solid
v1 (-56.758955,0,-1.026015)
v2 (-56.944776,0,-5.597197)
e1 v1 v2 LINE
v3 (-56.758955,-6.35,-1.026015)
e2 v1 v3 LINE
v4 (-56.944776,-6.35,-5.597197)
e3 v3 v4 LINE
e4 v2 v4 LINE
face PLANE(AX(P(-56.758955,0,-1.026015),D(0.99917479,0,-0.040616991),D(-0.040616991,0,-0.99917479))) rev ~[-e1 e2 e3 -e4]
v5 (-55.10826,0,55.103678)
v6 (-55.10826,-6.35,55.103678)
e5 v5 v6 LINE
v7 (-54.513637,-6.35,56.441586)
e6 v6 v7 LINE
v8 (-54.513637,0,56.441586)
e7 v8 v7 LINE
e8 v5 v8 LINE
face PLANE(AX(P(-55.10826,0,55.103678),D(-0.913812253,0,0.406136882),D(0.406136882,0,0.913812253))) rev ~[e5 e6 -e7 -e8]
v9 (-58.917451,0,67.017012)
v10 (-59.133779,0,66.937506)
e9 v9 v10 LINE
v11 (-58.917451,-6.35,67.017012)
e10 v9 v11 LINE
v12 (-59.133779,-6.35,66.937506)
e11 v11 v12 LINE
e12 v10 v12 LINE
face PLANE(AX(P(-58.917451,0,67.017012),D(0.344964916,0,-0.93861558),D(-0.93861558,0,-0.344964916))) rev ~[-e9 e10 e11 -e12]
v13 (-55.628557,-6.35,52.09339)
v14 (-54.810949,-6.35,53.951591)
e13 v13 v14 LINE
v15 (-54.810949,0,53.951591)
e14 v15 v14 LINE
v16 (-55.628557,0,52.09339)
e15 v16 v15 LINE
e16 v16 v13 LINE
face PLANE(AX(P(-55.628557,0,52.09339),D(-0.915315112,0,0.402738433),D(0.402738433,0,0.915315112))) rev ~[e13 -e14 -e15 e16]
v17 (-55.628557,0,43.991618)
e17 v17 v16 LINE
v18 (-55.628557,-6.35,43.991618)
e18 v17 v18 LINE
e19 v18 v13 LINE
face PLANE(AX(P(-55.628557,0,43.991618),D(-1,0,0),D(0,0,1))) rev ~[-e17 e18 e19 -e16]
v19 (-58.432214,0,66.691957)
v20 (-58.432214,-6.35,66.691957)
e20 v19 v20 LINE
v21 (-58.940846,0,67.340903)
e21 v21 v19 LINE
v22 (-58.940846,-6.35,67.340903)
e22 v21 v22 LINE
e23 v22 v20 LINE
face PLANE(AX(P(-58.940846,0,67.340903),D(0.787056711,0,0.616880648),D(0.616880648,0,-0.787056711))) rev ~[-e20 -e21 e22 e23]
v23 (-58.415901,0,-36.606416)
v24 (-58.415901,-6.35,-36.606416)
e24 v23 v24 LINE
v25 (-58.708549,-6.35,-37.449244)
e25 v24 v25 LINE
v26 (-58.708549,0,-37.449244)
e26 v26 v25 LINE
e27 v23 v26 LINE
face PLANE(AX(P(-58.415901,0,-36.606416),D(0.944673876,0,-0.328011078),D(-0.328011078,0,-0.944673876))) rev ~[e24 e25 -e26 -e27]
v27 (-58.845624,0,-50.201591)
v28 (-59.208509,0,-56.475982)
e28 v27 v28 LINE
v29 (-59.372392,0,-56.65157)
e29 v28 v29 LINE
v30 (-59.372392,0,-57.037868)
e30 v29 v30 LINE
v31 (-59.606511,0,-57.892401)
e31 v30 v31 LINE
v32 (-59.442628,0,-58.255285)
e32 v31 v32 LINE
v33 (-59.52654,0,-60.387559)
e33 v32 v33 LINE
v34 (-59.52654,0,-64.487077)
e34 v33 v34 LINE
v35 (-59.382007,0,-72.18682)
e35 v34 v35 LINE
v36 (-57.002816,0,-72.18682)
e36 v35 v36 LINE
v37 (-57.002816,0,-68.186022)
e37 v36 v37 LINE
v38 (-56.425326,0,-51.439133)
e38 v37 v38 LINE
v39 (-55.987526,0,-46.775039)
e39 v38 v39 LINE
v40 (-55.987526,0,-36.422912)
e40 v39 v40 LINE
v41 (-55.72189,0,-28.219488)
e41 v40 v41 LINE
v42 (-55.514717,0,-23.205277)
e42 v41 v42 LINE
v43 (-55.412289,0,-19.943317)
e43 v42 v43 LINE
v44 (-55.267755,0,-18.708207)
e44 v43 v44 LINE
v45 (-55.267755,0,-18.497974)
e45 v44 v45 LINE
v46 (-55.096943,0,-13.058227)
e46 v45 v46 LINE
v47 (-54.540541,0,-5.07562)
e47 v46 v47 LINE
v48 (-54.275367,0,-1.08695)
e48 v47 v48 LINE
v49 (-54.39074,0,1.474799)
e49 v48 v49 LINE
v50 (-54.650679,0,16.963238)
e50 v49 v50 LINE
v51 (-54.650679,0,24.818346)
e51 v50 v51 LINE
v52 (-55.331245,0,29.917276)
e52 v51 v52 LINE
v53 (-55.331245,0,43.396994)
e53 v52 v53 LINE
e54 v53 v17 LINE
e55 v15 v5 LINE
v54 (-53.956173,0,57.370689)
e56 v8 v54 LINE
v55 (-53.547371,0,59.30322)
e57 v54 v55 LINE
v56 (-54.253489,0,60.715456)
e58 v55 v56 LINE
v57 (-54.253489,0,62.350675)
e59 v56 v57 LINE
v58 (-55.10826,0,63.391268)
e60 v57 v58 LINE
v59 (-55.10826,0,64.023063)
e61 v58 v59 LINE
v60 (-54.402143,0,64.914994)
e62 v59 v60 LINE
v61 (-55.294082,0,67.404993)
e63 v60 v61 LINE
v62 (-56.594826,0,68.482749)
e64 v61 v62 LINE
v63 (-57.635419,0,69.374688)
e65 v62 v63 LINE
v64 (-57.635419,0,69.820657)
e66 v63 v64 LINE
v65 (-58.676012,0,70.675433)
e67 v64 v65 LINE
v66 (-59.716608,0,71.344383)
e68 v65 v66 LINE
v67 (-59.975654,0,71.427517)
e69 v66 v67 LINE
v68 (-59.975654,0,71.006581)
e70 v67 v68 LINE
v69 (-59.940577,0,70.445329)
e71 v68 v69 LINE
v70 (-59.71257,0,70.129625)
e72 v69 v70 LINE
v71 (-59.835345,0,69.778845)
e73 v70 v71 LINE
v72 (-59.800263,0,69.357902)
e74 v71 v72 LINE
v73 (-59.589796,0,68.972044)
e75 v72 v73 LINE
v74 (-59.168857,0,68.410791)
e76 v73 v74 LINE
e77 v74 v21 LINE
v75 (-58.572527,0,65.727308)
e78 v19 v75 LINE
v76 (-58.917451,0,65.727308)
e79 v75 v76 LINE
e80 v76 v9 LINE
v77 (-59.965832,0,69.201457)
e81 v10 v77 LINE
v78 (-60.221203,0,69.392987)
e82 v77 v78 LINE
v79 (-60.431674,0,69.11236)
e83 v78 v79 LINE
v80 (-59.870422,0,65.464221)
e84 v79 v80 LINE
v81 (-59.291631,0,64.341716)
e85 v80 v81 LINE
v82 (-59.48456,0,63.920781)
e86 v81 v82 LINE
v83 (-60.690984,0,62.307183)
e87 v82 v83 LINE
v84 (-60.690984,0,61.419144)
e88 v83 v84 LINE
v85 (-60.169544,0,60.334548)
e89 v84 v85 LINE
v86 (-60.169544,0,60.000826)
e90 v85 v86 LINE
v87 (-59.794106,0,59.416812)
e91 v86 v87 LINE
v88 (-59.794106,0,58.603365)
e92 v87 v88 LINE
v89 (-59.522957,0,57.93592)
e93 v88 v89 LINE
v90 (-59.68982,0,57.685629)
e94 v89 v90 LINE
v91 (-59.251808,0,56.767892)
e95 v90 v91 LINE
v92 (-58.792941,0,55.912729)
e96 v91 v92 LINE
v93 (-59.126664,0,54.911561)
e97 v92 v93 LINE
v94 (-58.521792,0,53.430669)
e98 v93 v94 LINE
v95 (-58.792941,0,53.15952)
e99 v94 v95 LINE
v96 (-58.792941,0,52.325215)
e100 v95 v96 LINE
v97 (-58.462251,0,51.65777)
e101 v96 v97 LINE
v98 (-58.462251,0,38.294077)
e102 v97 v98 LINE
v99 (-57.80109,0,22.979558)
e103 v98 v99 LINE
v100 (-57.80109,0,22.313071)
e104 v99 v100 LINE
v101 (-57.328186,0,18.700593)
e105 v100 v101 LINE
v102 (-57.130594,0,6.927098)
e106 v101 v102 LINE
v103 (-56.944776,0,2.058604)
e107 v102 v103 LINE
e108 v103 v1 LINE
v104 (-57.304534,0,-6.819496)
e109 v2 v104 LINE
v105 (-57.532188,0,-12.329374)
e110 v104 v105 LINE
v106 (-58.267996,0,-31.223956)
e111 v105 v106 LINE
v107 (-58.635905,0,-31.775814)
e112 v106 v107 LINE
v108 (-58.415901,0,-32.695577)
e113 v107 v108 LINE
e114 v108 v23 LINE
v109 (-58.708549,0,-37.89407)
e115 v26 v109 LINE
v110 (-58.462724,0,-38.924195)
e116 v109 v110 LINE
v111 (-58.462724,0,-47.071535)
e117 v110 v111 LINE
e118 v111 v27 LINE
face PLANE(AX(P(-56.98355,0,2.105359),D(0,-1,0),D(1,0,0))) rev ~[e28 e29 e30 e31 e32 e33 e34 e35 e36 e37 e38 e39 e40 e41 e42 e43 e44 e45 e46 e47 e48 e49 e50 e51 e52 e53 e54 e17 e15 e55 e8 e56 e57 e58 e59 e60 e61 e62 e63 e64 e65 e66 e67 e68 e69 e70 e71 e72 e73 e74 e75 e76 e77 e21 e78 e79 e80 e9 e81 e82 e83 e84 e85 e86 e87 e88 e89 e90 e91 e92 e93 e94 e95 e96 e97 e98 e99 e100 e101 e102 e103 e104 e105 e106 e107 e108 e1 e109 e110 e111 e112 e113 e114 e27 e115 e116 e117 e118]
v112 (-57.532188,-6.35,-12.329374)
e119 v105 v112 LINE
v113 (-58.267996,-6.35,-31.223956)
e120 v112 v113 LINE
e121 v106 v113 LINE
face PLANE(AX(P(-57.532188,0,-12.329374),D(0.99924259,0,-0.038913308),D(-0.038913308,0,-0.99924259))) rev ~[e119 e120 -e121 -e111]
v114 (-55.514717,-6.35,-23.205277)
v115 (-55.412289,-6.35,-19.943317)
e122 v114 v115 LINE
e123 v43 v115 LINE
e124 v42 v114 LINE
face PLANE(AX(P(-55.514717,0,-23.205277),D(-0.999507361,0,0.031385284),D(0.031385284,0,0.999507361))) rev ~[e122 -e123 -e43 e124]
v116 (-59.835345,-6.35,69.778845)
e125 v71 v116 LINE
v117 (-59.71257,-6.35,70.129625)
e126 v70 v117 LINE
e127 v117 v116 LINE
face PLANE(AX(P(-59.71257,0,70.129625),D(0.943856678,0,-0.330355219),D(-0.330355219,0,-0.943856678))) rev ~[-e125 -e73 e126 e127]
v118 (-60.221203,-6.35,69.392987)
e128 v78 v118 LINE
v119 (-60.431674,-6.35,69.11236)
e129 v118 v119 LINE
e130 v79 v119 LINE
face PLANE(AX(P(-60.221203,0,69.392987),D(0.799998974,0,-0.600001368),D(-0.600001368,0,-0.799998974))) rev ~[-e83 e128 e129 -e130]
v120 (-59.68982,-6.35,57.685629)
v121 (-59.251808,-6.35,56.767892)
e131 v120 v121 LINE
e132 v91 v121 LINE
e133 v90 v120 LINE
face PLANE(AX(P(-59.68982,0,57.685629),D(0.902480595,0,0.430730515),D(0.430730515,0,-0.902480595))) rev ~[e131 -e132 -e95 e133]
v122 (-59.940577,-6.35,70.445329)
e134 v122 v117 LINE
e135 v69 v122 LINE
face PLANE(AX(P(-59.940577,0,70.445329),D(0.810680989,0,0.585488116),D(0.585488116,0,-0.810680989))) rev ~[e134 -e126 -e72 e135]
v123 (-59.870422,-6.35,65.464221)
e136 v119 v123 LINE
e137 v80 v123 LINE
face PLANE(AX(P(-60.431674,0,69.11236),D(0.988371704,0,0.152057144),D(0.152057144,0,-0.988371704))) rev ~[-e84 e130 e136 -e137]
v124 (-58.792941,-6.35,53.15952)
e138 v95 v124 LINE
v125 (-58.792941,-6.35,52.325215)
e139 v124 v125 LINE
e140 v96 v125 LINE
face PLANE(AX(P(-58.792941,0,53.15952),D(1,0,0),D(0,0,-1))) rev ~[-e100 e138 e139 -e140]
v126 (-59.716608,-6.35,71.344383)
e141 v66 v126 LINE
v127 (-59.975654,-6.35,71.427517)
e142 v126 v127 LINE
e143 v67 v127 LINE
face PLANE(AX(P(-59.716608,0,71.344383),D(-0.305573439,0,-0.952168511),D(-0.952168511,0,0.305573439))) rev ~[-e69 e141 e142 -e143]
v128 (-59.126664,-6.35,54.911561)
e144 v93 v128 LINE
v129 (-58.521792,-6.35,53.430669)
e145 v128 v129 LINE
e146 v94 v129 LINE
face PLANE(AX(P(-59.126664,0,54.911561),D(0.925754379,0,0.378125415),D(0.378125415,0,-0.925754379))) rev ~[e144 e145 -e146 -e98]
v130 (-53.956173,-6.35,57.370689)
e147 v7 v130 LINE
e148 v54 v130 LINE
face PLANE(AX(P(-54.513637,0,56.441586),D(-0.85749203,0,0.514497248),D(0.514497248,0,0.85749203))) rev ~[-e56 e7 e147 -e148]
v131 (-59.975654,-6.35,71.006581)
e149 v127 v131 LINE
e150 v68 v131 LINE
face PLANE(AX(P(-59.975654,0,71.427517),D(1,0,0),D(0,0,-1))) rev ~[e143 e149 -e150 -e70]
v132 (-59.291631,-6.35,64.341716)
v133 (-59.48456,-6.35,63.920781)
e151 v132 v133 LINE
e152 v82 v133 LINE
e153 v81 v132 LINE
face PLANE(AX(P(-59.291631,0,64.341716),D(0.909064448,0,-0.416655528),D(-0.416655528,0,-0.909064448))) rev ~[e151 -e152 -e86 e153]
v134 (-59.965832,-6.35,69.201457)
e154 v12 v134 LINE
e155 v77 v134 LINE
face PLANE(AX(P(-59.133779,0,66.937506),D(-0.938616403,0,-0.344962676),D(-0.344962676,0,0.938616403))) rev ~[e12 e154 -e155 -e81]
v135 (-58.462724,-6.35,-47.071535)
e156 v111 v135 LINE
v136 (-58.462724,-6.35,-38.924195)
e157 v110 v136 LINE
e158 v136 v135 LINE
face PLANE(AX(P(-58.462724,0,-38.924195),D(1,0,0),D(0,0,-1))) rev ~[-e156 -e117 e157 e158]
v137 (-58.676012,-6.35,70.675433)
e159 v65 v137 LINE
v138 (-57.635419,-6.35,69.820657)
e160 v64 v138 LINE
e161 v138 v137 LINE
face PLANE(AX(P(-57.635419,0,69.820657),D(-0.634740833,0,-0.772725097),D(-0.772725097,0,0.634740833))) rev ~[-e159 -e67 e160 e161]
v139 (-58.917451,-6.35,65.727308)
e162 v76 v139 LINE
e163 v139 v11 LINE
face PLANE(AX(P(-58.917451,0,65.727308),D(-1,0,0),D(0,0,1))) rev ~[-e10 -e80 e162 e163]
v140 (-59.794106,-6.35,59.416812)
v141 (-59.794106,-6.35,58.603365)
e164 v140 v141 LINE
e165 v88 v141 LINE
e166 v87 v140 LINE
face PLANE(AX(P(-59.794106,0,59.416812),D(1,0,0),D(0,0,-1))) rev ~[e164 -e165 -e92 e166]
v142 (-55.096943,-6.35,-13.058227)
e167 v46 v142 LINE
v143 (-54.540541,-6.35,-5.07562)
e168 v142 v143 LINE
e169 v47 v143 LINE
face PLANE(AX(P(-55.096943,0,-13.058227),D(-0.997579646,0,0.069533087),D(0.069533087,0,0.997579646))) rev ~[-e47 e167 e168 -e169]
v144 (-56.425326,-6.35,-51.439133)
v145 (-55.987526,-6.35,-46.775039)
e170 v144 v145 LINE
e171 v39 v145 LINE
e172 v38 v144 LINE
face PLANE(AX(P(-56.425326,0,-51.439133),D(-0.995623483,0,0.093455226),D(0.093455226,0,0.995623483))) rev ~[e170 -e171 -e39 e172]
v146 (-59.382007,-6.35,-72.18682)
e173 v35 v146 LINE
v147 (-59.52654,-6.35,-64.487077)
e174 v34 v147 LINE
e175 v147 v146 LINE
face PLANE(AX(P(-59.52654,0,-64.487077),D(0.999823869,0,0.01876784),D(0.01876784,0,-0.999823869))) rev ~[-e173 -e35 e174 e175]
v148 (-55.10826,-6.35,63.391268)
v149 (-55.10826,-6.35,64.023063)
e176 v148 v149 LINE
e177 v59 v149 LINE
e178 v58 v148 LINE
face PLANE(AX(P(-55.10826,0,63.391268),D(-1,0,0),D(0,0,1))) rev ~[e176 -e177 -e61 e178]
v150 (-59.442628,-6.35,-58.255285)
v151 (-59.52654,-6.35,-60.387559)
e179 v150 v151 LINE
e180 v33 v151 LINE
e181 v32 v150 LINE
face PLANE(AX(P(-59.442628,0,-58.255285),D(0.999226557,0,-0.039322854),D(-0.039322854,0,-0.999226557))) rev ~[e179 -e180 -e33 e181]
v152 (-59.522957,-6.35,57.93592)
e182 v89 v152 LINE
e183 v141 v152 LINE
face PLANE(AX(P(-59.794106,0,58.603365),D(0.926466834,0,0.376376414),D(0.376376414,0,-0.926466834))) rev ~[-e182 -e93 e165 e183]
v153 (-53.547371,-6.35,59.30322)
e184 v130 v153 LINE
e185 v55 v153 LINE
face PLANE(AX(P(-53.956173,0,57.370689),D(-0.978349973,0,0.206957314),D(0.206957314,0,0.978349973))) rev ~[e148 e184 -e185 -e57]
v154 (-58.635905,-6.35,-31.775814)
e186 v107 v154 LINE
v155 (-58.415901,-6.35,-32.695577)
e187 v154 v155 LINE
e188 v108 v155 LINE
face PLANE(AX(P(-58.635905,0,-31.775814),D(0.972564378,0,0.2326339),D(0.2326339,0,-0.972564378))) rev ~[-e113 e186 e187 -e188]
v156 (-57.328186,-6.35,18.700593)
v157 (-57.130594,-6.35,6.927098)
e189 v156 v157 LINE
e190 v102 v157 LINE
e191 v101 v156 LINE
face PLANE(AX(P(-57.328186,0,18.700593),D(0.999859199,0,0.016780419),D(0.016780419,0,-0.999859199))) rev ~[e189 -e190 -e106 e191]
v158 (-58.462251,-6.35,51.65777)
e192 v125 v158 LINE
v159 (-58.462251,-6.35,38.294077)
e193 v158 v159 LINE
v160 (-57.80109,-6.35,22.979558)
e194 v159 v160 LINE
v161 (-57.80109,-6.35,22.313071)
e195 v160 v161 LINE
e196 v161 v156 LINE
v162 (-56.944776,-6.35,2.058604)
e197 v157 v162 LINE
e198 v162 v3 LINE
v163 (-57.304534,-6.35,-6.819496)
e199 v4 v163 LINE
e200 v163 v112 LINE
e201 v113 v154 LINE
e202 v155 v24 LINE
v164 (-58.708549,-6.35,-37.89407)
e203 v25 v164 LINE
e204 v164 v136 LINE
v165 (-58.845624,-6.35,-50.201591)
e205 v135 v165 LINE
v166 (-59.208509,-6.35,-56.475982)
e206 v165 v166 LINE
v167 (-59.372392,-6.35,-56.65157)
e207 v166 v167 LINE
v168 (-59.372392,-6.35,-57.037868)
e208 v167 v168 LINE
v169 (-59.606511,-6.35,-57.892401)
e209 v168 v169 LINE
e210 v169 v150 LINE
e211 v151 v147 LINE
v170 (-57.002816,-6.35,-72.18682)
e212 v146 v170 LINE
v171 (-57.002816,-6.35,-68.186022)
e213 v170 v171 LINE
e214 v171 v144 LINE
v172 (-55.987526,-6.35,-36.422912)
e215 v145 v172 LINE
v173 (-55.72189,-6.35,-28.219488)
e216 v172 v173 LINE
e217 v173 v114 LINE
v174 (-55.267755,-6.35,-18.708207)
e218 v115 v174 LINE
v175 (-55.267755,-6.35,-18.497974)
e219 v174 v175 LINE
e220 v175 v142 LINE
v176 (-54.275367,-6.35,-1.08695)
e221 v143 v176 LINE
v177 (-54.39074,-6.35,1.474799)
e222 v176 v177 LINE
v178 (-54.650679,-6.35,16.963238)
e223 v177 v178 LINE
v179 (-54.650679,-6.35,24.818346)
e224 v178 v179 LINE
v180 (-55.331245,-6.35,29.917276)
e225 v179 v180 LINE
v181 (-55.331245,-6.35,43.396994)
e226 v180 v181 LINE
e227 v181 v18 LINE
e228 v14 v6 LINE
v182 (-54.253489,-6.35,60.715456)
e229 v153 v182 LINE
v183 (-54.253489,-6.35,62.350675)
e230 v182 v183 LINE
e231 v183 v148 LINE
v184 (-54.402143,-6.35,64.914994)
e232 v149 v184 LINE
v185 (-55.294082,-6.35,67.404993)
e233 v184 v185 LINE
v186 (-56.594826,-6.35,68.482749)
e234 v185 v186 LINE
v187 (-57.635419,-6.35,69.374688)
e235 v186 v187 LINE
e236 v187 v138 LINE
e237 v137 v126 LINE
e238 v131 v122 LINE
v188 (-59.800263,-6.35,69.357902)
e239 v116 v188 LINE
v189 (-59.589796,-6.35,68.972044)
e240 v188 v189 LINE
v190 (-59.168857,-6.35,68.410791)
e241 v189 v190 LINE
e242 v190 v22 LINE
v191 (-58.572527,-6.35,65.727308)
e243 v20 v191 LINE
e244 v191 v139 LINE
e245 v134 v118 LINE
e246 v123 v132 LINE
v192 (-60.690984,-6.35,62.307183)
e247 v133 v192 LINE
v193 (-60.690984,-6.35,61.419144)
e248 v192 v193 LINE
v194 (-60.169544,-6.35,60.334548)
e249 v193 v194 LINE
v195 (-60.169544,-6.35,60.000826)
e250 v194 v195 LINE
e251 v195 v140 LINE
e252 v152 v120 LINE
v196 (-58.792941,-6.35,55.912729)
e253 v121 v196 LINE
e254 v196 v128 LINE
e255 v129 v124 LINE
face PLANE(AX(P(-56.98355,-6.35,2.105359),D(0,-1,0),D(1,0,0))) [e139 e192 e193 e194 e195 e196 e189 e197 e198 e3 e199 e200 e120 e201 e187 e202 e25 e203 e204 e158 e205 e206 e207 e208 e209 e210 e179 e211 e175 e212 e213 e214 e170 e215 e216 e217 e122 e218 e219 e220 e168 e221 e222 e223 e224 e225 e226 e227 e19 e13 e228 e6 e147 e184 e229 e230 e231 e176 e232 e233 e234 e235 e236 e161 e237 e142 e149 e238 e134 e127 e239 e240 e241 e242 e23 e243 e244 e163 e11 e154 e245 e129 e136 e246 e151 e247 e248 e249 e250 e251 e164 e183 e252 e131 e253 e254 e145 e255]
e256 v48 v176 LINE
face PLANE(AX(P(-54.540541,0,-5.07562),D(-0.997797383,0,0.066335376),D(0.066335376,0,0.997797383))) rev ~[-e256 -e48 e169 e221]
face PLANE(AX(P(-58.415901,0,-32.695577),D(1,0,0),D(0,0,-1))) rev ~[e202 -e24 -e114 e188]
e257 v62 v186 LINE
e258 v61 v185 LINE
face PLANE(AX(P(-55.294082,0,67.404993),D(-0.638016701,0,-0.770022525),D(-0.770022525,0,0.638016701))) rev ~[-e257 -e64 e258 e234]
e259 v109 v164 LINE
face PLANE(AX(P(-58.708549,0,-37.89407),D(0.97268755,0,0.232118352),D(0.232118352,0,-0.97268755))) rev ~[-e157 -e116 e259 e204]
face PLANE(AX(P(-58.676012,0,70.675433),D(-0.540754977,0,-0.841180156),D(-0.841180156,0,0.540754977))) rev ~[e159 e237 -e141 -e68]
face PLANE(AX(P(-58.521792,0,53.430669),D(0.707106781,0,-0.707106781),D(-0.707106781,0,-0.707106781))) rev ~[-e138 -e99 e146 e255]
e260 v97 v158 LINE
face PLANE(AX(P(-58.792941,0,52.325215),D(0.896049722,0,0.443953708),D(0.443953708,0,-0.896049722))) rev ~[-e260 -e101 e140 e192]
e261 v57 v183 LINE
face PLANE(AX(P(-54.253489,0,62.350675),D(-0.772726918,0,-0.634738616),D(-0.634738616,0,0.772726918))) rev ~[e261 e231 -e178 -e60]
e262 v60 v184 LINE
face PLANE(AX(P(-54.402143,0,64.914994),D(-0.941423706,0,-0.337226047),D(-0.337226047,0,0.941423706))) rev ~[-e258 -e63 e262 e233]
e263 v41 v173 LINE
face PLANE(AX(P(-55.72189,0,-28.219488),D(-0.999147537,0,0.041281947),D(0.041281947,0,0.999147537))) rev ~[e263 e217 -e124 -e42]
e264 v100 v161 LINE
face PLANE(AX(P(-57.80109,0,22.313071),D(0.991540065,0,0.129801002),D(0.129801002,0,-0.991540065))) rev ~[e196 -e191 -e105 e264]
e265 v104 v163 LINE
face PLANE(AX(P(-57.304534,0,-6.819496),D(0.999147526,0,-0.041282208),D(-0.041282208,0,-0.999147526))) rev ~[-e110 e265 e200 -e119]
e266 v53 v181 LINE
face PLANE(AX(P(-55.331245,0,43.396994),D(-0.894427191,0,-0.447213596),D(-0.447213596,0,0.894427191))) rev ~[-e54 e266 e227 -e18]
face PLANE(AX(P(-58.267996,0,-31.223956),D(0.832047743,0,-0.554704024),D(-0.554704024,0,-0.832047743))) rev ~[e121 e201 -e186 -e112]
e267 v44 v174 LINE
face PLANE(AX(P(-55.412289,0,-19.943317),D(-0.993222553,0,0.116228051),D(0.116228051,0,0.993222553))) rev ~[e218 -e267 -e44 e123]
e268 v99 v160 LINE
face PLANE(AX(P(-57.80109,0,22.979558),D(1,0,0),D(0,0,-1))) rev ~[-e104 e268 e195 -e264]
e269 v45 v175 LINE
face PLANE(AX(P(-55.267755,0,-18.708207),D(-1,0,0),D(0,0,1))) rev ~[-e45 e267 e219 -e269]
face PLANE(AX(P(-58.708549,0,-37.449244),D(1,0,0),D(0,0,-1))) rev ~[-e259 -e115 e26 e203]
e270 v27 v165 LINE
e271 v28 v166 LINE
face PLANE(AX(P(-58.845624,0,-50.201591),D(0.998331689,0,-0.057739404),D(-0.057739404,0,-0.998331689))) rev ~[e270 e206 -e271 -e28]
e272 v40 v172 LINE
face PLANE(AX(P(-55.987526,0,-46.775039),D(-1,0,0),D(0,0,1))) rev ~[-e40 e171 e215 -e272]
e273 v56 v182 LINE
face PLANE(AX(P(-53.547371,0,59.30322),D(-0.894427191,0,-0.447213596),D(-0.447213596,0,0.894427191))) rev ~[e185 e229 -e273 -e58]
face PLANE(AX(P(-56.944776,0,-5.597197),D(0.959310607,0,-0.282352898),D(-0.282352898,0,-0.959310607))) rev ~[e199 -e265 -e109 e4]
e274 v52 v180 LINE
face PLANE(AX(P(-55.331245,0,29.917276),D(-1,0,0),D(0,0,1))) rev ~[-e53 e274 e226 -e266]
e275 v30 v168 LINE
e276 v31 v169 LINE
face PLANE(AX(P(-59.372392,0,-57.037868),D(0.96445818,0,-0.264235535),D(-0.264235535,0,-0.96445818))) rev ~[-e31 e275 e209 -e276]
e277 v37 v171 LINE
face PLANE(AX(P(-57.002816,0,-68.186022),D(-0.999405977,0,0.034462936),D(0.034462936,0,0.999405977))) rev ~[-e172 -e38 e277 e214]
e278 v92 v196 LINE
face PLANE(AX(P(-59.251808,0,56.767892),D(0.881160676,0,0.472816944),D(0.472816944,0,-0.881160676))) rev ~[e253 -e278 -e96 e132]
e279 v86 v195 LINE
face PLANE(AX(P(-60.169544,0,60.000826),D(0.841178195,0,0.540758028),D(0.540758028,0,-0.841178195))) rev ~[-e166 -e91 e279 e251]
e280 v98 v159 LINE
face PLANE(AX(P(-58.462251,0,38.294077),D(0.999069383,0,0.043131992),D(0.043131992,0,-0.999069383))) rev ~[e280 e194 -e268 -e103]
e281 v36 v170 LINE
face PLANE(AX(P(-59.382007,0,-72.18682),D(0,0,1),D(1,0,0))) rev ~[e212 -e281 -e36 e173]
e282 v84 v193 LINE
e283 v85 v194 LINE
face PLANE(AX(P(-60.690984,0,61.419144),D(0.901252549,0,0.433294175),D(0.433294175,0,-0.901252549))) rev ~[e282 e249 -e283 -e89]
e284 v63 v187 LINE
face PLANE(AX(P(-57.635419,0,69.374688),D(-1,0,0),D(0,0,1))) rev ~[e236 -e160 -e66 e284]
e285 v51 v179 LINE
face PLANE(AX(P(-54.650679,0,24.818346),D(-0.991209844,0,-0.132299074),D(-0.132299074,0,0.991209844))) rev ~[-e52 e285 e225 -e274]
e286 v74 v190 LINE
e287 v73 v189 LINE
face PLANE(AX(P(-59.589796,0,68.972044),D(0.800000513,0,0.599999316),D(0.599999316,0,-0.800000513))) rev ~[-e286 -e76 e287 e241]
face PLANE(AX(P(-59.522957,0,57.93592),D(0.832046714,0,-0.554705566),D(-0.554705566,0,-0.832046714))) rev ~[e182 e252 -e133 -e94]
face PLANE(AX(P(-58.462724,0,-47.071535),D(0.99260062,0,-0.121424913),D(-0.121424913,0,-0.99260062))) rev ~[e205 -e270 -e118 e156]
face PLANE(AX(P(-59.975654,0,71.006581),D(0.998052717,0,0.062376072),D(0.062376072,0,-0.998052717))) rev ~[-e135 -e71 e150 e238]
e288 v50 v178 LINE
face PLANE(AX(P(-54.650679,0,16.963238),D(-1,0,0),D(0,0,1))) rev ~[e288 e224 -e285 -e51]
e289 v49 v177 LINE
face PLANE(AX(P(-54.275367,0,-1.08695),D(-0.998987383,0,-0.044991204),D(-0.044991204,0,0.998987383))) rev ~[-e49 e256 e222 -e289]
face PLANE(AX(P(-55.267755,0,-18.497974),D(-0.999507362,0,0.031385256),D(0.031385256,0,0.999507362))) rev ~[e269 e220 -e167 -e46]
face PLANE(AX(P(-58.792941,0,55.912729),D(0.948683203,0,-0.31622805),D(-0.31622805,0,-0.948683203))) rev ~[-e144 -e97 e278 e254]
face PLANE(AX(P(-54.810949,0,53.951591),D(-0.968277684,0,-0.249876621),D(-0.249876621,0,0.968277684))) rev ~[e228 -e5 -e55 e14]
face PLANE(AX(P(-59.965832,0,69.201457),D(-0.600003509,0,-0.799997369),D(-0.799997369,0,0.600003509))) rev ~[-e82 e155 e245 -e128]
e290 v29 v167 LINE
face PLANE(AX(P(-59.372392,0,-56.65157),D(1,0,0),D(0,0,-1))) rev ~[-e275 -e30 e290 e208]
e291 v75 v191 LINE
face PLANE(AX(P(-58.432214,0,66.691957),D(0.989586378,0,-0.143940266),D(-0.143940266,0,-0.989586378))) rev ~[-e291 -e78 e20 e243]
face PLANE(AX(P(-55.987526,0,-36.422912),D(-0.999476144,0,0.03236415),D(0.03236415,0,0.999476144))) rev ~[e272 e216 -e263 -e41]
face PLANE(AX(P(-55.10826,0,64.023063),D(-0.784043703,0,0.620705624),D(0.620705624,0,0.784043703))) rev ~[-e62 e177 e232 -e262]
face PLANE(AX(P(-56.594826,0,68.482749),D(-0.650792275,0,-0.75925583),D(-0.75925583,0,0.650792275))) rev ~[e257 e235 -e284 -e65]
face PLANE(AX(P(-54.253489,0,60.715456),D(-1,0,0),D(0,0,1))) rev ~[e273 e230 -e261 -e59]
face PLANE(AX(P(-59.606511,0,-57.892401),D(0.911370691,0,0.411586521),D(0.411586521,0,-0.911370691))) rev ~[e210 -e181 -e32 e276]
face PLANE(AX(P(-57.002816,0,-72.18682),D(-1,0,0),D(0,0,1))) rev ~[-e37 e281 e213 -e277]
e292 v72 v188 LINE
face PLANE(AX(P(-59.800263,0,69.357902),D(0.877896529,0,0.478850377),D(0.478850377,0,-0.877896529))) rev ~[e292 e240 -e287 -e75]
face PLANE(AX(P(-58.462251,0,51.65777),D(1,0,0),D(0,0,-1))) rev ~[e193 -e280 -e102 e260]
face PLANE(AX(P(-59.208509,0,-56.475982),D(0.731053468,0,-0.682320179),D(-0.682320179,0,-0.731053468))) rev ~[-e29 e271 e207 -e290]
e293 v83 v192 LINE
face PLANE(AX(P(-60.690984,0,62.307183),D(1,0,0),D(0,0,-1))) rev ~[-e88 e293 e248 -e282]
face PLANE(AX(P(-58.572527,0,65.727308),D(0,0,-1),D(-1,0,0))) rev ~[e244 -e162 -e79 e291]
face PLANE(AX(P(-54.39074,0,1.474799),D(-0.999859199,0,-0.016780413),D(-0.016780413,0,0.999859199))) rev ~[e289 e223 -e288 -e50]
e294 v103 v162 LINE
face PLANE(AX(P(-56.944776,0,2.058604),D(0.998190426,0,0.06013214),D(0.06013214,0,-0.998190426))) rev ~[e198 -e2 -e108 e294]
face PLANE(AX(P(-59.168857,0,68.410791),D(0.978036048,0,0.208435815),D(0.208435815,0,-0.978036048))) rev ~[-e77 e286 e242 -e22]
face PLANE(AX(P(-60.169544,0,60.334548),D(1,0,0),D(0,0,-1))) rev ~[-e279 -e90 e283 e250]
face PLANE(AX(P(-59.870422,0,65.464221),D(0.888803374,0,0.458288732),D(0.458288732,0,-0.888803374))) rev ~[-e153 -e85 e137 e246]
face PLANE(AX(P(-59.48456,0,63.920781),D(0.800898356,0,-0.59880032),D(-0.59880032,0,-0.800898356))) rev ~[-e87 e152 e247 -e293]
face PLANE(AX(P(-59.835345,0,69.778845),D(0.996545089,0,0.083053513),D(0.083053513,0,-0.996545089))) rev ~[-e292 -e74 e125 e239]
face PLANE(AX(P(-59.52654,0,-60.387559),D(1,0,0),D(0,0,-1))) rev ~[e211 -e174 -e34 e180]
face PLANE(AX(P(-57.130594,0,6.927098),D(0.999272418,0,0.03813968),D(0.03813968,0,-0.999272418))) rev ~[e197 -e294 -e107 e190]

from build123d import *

# Parameters (mm, degrees)
F1_DEPTH = 6.35


with BuildPart() as f1:
    # F0 (on Front) → F1 (new body)
    with BuildSketch(Plane.XZ):
        Polygon((-58.676012, 70.675433), (-59.716608, 71.344383), (-59.975654, 71.427517), (-59.975654, 71.006581), (-59.940577, 70.445329), (-59.71257, 70.129625), (-59.835345, 69.778845), (-59.800263, 69.357902), (-59.589796, 68.972044), (-59.168857, 68.410791), (-58.940846, 67.340903), (-58.432214, 66.691957), (-58.572527, 65.727308), (-58.917451, 65.727308), (-58.917451, 66.639341), (-58.917451, 67.017012), (-59.133779, 66.937506), (-59.965832, 69.201457), (-60.221203, 69.392987), (-60.431674, 69.11236), (-59.870422, 65.464221), (-59.291631, 64.341716), (-59.48456, 63.920781), (-60.690984, 62.307183), (-60.690984, 61.419144), (-60.169544, 60.334548), (-60.169544, 60.000826), (-59.794106, 59.416812), (-59.794106, 58.603365), (-59.522957, 57.93592), (-59.68982, 57.685629), (-59.251808, 56.767892), (-58.792941, 55.912729), (-59.126664, 54.911561), (-58.521792, 53.430669), (-58.792941, 53.15952), (-58.792941, 52.325215), (-58.462251, 51.65777), (-58.462251, 51.219761), (-58.462251, 43.550201), (-58.462251, 38.294077), (-57.80109, 22.979558), (-57.80109, 22.313071), (-57.328186, 18.700593), (-57.130594, 6.927098), (-56.944776, 2.058604), (-56.758955, -1.026015), (-56.944776, -5.597197), (-57.304534, -6.819496), (-57.532188, -12.329374), (-58.267996, -31.223956), (-58.635905, -31.775814), (-58.415901, -32.695577), (-58.415901, -36.606416), (-58.708549, -37.449244), (-58.708549, -37.89407), (-58.462724, -38.924195), (-58.462724, -47.071535), (-58.845624, -50.201591), (-59.208509, -56.475982), (-59.372392, -56.65157), (-59.372392, -57.037868), (-59.606511, -57.892401), (-59.442628, -58.255285), (-59.52654, -60.387559), (-59.52654, -64.487077), (-59.382007, -72.18682), (-57.002816, -72.18682), (-57.002816, -71.950309), (-57.002816, -68.186022), (-56.425326, -51.439133), (-55.987526, -46.775039), (-55.987526, -36.422912), (-55.72189, -28.219488), (-55.514717, -23.205277), (-55.412289, -19.943317), (-55.267755, -18.708207), (-55.267755, -18.497974), (-55.096943, -13.058227), (-54.540541, -5.07562), (-54.275367, -1.08695), (-54.39074, 1.474799), (-54.650679, 16.963238), (-54.650679, 24.818346), (-55.331245, 29.917276), (-55.331245, 34.031644), (-55.331245, 43.396994), (-55.628557, 43.991618), (-55.628557, 50.941303), (-55.628557, 52.09339), (-54.810949, 53.951591), (-55.10826, 55.103678), (-54.513637, 56.441586), (-53.956173, 57.370689), (-53.547371, 59.30322), (-54.253489, 60.715456), (-54.253489, 61.012767), (-54.253489, 62.350675), (-55.10826, 63.391268), (-55.10826, 64.023063), (-54.402143, 64.914994), (-55.294082, 67.404993), (-56.594826, 68.482749), (-57.635419, 69.374688), (-57.635419, 69.820657), align=None)
    extrude(amount=F1_DEPTH)


solid = f1.part
